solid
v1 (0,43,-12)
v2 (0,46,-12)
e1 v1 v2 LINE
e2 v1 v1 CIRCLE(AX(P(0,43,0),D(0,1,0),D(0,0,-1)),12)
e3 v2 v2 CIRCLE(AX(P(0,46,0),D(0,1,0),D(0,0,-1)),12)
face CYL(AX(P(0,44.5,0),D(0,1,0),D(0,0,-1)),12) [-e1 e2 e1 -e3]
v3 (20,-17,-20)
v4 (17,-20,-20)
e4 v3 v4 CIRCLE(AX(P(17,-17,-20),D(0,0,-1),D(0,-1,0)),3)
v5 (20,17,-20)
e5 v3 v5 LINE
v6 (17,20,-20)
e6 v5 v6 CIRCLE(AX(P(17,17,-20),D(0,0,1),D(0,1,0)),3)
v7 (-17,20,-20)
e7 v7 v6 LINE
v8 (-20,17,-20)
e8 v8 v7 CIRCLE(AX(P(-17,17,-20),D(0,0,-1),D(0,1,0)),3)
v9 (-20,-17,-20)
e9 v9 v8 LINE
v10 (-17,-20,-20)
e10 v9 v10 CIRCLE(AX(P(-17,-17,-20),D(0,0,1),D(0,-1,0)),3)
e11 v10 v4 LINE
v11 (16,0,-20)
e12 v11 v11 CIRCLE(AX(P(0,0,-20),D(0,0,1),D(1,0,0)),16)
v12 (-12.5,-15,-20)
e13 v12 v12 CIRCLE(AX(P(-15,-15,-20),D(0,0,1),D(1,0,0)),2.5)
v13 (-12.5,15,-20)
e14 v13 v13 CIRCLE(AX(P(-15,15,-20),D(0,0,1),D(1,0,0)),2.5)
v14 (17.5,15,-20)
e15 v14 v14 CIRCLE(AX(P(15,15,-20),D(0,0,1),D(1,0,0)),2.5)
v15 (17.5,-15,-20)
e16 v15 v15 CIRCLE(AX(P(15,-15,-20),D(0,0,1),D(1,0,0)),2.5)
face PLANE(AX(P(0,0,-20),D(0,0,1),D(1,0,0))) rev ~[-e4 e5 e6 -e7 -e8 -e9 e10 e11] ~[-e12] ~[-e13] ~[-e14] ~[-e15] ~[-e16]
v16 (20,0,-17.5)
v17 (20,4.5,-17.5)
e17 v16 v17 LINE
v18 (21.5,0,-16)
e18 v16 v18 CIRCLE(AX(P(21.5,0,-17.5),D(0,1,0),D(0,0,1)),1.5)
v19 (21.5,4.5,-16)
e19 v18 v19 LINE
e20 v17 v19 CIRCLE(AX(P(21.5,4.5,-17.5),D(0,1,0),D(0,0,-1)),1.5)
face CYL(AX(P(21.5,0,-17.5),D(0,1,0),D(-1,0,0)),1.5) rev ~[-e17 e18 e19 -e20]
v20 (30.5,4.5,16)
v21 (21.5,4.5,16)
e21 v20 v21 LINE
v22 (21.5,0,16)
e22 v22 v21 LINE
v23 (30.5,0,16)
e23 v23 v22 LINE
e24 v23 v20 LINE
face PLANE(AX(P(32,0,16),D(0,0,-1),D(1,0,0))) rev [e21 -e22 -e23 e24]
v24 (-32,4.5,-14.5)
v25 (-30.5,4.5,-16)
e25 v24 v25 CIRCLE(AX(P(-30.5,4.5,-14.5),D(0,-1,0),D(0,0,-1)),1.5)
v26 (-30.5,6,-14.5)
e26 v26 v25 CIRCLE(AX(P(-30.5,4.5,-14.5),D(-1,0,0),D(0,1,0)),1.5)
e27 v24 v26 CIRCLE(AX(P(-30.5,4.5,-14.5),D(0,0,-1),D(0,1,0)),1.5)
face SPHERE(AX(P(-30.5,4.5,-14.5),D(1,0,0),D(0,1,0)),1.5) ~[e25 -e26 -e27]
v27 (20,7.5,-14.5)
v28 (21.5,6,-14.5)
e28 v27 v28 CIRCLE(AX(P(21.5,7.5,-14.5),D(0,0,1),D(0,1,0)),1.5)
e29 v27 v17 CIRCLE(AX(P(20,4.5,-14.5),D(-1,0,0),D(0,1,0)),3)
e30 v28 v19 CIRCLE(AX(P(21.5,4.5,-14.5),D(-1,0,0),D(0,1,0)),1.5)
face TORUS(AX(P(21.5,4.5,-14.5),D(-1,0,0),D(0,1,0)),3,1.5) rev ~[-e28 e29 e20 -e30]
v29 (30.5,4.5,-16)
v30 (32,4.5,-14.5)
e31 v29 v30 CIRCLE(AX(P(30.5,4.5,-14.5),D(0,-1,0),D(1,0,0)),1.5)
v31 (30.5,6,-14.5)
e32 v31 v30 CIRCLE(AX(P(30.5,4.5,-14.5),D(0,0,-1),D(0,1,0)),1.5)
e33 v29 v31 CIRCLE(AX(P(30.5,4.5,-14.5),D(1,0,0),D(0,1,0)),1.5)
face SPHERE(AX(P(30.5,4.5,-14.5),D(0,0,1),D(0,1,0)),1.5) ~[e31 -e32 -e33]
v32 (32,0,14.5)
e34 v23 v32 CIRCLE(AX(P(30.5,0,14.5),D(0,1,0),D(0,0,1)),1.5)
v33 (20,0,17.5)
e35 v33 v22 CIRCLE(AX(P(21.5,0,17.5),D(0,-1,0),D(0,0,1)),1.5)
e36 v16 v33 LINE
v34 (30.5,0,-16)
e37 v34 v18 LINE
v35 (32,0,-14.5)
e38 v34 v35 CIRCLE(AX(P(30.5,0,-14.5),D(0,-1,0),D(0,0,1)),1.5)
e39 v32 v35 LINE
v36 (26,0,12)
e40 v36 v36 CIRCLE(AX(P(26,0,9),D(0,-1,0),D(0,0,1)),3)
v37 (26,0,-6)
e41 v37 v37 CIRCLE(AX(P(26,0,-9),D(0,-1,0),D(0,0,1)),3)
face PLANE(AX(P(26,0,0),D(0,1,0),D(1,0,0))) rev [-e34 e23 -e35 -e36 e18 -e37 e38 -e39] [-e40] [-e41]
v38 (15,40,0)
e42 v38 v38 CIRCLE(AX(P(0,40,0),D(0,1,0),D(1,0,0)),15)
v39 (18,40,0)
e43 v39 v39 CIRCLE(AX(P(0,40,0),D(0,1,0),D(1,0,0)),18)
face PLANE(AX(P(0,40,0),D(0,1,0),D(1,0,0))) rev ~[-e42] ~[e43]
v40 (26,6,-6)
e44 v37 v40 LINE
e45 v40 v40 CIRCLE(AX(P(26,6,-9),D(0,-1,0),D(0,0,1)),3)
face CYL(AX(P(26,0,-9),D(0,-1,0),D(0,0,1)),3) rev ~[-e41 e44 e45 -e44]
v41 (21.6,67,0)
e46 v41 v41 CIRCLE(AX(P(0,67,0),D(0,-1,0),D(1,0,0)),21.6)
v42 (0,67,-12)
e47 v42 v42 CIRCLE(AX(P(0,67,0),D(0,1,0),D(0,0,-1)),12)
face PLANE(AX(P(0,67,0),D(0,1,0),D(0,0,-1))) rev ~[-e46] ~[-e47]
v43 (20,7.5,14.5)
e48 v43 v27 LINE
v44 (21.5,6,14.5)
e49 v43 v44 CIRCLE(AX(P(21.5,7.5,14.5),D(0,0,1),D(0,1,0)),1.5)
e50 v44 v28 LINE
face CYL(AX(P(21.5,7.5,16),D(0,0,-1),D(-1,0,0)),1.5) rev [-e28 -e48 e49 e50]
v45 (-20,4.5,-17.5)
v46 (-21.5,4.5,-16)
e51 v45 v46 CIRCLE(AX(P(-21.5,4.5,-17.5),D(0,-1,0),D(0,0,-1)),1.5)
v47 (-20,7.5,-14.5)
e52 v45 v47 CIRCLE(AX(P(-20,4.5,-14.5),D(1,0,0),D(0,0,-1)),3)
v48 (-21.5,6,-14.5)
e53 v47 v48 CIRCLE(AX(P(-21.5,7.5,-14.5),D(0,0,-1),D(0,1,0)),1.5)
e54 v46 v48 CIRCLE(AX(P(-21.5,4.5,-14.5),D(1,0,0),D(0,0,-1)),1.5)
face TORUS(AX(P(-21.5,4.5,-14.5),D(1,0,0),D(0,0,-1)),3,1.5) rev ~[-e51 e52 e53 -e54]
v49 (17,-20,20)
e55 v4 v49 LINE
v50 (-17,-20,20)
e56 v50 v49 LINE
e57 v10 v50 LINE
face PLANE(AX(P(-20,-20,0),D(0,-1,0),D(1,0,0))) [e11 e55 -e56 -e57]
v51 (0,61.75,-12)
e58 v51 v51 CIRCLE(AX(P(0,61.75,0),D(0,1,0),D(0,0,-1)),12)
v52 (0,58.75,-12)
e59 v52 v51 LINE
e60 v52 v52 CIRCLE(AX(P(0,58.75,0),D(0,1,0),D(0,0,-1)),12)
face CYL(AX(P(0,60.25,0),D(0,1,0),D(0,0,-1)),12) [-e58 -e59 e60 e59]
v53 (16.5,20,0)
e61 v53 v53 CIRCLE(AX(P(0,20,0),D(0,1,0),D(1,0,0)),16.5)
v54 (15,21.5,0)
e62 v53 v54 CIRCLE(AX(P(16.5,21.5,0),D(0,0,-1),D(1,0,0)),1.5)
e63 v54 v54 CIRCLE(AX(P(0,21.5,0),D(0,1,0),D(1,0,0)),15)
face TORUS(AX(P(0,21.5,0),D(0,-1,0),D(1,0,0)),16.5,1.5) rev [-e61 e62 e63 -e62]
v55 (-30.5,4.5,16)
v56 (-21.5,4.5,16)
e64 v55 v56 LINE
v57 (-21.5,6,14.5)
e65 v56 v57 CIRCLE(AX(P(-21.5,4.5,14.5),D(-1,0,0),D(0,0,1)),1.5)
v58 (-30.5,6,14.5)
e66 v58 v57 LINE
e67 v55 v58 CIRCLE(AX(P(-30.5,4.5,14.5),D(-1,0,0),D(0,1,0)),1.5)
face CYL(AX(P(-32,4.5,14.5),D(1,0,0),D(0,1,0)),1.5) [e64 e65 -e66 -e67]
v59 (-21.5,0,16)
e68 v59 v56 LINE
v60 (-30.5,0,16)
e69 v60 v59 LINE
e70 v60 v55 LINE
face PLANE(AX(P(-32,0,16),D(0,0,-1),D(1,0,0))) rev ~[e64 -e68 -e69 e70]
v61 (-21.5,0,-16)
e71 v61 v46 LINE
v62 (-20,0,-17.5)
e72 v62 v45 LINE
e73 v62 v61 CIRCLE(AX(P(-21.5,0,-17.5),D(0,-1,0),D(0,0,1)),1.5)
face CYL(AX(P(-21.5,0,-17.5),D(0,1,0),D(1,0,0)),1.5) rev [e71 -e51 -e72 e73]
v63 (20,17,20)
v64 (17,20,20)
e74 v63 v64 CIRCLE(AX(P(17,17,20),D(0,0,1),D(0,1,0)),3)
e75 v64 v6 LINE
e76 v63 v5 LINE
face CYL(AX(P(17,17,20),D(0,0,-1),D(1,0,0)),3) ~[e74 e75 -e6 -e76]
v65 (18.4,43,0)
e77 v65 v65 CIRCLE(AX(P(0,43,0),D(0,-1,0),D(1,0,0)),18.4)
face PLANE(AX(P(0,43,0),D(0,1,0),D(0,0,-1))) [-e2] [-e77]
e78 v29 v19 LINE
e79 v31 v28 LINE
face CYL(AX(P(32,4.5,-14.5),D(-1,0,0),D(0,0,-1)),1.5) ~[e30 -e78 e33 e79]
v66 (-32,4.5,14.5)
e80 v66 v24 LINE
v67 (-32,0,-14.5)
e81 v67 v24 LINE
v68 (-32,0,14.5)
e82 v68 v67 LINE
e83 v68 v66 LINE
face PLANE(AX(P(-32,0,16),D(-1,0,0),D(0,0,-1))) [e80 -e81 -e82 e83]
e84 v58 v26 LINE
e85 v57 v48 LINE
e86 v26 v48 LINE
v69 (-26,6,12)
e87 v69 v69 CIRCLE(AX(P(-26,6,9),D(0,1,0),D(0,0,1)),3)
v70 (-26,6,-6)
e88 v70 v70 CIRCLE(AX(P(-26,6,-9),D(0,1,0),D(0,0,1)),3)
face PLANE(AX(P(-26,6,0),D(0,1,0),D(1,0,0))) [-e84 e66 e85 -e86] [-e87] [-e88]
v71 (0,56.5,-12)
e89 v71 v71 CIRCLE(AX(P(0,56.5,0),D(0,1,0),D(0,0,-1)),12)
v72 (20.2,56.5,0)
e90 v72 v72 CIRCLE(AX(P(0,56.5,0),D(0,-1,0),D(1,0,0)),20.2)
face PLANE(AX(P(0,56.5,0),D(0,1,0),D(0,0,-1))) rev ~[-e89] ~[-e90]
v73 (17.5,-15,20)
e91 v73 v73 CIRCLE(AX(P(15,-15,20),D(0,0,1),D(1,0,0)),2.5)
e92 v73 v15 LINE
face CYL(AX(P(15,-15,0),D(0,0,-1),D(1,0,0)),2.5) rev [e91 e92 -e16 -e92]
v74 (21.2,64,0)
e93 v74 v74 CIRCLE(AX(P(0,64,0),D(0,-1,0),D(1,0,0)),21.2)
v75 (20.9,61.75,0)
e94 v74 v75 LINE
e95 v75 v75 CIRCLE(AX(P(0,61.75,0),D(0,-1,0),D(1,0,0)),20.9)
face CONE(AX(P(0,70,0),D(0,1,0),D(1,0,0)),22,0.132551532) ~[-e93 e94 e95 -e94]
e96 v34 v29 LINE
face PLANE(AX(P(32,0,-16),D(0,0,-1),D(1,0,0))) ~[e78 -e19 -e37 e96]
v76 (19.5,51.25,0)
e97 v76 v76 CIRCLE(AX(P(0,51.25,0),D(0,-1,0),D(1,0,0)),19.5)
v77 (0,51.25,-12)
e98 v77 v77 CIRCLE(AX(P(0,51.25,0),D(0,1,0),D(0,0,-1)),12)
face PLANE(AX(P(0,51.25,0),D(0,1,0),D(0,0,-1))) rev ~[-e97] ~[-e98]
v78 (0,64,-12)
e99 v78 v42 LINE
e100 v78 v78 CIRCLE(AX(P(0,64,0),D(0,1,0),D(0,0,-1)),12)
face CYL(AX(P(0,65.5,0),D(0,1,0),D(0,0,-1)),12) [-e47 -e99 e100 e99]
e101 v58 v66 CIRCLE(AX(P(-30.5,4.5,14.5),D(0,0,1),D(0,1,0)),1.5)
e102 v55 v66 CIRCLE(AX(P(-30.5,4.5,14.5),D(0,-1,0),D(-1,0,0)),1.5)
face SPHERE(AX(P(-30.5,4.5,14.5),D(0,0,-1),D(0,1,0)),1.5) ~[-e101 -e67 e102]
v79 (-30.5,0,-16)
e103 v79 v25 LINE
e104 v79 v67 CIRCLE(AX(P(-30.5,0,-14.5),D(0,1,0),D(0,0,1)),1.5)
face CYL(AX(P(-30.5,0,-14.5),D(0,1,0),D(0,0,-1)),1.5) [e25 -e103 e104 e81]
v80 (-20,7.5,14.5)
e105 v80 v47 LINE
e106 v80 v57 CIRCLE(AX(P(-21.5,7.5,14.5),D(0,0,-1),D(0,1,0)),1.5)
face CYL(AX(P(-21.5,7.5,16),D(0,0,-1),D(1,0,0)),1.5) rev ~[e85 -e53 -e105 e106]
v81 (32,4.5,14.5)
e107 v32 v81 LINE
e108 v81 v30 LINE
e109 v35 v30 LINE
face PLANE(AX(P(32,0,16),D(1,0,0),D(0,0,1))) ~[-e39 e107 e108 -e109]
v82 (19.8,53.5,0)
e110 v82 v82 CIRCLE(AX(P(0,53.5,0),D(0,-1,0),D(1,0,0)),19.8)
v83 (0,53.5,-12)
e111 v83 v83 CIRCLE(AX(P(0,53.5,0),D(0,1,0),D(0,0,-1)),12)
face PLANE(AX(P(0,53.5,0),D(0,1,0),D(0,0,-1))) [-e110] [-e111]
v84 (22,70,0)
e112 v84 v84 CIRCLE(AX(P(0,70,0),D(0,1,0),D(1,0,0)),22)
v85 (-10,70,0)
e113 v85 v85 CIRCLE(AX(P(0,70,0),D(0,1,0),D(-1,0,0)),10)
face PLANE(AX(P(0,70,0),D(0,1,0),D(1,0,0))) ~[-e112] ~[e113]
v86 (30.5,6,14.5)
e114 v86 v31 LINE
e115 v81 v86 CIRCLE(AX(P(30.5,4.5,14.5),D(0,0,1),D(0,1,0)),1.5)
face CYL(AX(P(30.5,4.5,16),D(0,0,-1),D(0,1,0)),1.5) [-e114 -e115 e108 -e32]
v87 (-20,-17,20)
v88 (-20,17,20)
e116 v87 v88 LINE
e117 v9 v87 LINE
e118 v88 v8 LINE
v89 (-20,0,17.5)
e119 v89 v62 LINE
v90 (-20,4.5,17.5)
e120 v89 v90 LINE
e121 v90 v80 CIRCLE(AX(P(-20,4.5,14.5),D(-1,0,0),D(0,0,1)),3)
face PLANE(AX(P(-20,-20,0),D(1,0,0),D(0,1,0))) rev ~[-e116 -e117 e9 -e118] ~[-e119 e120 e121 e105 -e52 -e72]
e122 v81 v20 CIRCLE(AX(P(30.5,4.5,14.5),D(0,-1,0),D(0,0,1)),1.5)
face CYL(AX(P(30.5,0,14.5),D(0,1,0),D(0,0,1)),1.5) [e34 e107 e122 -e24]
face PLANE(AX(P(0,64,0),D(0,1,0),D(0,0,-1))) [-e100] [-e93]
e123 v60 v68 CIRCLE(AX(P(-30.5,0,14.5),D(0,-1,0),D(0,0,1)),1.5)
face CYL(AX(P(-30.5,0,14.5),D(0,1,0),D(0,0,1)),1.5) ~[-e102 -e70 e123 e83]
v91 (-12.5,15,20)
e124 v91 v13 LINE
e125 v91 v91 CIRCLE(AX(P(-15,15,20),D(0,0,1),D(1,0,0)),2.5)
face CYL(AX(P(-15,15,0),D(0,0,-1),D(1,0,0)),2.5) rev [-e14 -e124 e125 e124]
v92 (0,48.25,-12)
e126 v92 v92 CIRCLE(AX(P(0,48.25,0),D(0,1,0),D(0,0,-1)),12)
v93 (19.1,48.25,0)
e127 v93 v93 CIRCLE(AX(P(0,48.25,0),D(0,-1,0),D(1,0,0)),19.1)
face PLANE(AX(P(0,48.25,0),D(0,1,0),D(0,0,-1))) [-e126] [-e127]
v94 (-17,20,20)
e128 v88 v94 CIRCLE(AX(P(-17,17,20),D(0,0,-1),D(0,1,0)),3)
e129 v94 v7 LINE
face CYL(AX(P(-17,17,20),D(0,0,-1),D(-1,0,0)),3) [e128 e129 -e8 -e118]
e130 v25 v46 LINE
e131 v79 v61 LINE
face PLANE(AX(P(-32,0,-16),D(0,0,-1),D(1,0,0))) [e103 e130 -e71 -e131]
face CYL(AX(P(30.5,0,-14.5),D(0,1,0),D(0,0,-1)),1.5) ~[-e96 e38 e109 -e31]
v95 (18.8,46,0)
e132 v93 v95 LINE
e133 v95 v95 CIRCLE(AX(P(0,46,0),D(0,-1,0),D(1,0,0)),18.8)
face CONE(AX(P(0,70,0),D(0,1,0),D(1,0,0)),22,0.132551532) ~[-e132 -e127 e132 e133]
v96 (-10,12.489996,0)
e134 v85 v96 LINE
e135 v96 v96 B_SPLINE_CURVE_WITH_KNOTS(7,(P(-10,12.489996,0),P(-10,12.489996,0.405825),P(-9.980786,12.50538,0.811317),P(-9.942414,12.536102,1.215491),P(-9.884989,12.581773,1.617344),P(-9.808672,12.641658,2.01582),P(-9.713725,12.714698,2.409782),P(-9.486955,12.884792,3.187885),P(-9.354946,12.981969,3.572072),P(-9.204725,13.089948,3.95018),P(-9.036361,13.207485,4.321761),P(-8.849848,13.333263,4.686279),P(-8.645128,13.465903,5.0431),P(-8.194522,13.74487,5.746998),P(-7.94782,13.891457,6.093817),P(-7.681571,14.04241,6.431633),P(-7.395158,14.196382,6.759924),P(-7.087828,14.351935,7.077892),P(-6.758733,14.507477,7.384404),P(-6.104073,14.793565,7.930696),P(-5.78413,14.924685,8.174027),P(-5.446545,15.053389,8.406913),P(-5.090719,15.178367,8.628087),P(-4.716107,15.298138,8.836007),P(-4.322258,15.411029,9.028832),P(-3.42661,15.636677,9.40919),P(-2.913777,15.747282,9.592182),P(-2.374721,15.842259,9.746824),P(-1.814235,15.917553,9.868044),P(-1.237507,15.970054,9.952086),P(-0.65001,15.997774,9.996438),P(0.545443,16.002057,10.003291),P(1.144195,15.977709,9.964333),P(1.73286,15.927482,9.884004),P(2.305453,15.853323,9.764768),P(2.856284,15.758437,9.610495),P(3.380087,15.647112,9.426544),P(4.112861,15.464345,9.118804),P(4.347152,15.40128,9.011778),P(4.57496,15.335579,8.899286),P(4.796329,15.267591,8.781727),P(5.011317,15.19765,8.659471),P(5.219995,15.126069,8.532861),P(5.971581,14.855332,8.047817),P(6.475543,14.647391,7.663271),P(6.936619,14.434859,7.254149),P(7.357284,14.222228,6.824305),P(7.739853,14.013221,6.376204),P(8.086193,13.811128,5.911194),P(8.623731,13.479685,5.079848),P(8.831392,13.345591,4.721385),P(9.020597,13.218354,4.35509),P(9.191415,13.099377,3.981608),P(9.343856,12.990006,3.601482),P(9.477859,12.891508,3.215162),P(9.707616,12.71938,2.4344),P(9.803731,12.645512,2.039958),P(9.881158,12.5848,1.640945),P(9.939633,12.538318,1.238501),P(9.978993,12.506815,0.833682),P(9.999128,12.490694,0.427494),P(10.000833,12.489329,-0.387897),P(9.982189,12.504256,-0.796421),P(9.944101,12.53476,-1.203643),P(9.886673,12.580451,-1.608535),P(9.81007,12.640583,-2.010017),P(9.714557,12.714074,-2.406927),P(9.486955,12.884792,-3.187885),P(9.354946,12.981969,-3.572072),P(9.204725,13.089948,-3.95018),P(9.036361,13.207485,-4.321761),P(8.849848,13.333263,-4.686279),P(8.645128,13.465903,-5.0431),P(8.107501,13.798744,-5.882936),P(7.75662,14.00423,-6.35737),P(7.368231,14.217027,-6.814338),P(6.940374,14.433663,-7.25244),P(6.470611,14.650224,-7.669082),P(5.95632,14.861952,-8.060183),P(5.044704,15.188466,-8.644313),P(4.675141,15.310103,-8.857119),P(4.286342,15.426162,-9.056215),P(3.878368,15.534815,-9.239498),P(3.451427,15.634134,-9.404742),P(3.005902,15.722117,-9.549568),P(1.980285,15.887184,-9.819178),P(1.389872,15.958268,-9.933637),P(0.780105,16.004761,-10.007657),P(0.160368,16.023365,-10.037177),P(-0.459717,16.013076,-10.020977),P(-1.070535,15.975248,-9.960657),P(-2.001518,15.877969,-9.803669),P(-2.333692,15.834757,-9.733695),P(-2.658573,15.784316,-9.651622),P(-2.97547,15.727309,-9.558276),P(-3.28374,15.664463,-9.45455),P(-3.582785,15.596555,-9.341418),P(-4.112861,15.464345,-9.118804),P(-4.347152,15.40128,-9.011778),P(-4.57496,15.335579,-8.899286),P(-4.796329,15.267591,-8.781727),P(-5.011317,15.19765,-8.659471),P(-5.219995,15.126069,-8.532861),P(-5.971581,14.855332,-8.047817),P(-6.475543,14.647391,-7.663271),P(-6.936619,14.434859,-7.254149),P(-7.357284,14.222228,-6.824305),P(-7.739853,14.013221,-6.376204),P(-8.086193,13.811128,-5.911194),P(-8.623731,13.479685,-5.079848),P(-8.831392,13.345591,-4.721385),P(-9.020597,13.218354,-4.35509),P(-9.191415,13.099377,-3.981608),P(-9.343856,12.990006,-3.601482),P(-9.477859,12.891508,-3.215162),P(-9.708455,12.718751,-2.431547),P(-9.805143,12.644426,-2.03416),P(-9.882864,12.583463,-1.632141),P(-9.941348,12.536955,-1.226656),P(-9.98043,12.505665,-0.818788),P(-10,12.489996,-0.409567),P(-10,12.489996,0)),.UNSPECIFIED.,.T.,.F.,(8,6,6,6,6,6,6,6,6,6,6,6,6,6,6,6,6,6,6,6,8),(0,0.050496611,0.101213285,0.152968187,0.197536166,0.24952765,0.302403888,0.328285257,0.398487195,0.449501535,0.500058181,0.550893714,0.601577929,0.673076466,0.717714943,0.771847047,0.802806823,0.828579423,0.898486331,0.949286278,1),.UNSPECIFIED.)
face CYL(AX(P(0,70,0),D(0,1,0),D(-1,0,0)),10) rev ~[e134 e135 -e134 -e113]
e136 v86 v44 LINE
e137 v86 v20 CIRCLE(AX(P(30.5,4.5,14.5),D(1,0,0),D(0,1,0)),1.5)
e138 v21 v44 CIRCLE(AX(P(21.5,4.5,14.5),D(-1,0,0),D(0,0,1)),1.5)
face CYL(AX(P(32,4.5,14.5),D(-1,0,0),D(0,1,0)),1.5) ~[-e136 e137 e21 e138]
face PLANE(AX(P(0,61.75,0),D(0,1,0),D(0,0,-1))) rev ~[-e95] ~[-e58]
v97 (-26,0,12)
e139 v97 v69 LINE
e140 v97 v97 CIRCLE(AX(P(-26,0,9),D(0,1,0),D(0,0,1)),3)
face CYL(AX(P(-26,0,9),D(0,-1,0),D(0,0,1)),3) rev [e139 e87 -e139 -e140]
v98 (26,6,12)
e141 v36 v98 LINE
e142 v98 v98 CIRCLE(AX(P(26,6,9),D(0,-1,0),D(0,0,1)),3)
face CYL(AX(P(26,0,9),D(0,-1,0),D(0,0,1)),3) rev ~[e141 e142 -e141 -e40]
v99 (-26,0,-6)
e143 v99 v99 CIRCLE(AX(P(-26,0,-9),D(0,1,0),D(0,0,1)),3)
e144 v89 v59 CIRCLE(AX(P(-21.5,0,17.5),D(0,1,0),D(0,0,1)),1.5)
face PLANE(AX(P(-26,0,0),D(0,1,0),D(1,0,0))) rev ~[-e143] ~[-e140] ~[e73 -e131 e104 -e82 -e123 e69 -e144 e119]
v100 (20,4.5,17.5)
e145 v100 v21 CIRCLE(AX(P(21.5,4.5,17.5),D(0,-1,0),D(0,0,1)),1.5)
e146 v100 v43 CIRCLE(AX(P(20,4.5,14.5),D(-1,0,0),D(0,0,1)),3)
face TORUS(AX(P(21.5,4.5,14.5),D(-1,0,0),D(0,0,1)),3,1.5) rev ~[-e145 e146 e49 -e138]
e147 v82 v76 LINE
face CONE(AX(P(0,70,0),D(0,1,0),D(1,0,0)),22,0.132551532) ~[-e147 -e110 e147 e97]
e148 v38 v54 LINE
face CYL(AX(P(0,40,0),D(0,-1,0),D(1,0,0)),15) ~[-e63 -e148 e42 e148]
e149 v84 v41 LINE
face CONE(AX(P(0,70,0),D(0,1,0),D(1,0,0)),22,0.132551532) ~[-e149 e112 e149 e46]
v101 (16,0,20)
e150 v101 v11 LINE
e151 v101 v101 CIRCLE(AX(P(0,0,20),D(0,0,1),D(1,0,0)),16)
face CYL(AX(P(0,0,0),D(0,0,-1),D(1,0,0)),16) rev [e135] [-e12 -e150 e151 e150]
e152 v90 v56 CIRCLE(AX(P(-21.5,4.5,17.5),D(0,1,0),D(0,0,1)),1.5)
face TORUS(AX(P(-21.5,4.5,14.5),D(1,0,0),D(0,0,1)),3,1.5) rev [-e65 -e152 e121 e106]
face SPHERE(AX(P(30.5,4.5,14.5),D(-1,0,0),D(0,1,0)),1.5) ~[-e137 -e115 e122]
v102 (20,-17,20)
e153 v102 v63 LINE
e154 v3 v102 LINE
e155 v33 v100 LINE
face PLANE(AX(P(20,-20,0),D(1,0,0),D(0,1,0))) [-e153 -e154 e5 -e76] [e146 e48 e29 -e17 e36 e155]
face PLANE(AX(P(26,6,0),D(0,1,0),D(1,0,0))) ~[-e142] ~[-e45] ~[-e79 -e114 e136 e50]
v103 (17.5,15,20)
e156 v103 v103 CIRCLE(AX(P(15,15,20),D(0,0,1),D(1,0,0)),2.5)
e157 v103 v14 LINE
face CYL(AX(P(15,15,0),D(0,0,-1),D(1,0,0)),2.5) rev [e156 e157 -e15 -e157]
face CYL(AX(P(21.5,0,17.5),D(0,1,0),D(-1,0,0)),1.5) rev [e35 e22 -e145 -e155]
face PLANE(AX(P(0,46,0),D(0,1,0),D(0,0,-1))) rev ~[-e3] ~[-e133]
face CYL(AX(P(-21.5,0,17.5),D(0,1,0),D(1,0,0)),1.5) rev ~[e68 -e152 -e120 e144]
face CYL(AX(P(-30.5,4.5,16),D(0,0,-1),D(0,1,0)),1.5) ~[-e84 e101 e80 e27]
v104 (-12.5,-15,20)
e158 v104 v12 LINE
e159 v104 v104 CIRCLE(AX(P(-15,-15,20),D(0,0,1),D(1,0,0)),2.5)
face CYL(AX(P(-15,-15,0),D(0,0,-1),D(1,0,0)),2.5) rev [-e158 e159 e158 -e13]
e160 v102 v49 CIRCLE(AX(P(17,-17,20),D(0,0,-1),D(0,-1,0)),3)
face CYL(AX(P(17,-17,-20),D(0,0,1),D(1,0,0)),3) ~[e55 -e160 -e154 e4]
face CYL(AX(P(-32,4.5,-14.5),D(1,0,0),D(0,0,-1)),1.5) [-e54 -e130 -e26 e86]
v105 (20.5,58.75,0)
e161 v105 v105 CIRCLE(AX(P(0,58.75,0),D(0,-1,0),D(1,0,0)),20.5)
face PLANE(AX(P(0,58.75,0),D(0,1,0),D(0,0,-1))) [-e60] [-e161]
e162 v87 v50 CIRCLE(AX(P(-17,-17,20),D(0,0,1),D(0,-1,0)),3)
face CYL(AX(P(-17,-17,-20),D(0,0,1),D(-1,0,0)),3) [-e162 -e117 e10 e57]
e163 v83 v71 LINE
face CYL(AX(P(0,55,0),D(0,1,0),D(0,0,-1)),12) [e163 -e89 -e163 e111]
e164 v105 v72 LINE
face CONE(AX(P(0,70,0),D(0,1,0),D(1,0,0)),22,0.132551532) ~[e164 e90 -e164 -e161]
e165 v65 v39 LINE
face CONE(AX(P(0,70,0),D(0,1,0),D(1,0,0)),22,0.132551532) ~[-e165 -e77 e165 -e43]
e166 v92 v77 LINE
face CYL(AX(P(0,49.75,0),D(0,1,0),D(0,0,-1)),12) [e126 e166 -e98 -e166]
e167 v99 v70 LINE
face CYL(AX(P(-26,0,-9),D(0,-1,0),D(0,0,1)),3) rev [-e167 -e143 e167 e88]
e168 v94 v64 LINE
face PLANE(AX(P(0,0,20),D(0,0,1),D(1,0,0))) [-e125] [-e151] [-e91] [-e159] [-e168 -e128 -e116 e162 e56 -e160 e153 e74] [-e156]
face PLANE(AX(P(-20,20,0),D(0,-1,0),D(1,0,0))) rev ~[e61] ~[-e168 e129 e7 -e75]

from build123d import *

# Parameters (mm, degrees)
SKETCH1_W               = 40
SKETCH1_H               = 40
SKETCH1_R               = 2.5
SKETCH1_R_2             = 16
BOSS_EXTRUDE2_DEPTH     = 20
FILLET2_R               = 3
SKETCH3_W               = 18
SKETCH3_H               = 3
LPATTERN1_COUNT         = 5
LPATTERN1_PITCH         = 5.25
CUT_EXTRUDE2_REACH      = 97.226
CUT_EXTRUDE2_END_RADIUS = 16
SKETCH6_R               = 10
SKETCH7_W               = 12
SKETCH7_H               = 32
SKETCH7_R               = 3
BOSS_EXTRUDE4_DEPTH     = 6
FILLET3_R               = 1.5


with BuildPart() as part:
    # Sketch1 → Boss-Extrude2 (new, symmetric)
    with BuildSketch(Plane.XY):
        Rectangle(SKETCH1_W, SKETCH1_H)
        with Locations((-15, 15)):
            Circle(SKETCH1_R, mode=Mode.SUBTRACT)
        with Locations((15, 15)):
            Circle(SKETCH1_R, mode=Mode.SUBTRACT)
        with Locations((15, -15)):
            Circle(SKETCH1_R, mode=Mode.SUBTRACT)
        with Locations((-15, -15)):
            Circle(SKETCH1_R, mode=Mode.SUBTRACT)
        Circle(SKETCH1_R_2, mode=Mode.SUBTRACT)
    extrude(amount=BOSS_EXTRUDE2_DEPTH, both=True)

    # Fillet2
    fillet2_edges = [part.edges().sort_by_distance(p)[0] for p in [
        (20, -20, 0),
        (-20, -20, 0),
        (-20, 20, 0),
        (20, 20, 0),
    ]]
    fillet(fillet2_edges, radius=FILLET2_R)

    # Sketch2 → Revolve1 (revolve)
    with BuildSketch(Plane.XY, mode=Mode.PRIVATE) as revolve1_sk:
        Polygon((0, 20), (0, 70), (-22, 70), (-18, 40), (-15, 40), (-15, 20), align=None)
    revolve(revolve1_sk.sketch.rotate(Axis((0, 20, 0), (0, 1, 0)), 180), axis=Axis((0, 20, 0), (0, 1, 0)))

    # Sketch3 → Cut-Revolve1 (revolve, cut)
    with BuildSketch(Plane.XY, mode=Mode.PRIVATE) as cut_revolve1_sk:
        with Locations((-21, 44.5)):
            Rectangle(SKETCH3_W, SKETCH3_H)
    cut_revolve1 = revolve(cut_revolve1_sk.sketch.rotate(Axis((0, 34.204860636, 0), (0, 1, 0)), 270), axis=Axis((0, 34.204860636, 0), (0, 1, 0)), mode=Mode.SUBTRACT)

    # LPattern1: Cut-Revolve1 ×5
    with Locations(*[(0, i * LPATTERN1_PITCH, 0) for i in range(1, LPATTERN1_COUNT)]):
        add(cut_revolve1, mode=Mode.SUBTRACT)

    # Cut-Extrude2: up to this cylinder (the profile starts outside it)
    cut_extrude2_end = Plane(origin=(0, 0, 0), z_dir=(0, 0, -1)) * Cylinder(CUT_EXTRUDE2_END_RADIUS, 227.452, mode=Mode.PRIVATE)
    # Sketch6 → Cut-Extrude2 (cut, up to the surface)
    with BuildSketch(Plane(origin=(0, 70, 0), x_dir=(1, 0, 0), z_dir=(0, 1, 0)), mode=Mode.PRIVATE) as cut_extrude2_sk1:
        with Locations(Location((0, 0, 0), (0, 0, 180))):
            Circle(SKETCH6_R)
    cut_extrude2_tool1 = extrude(cut_extrude2_sk1.sketch, amount=-CUT_EXTRUDE2_REACH, mode=Mode.PRIVATE) - cut_extrude2_end
    add(cut_extrude2_tool1.solids().sort_by_distance((0, 70, 0))[0], mode=Mode.SUBTRACT)

    # Sketch7 → Boss-Extrude4 (add)
    with BuildSketch(Plane(origin=(0, 0, 0), x_dir=(1, 0, 0), z_dir=(0, 1, 0))):
        with Locations((-26, 0)):
            Rectangle(SKETCH7_W, SKETCH7_H)
        with Locations(Location((-26, 9, 0), (0, 0, 270))):
            Circle(SKETCH7_R, mode=Mode.SUBTRACT)
        with Locations(Location((-26, -9, 0), (0, 0, 270))):
            Circle(SKETCH7_R, mode=Mode.SUBTRACT)
    boss_extrude4 = extrude(amount=BOSS_EXTRUDE4_DEPTH)

    # Mirror1: Boss-Extrude4 across plane
    add(boss_extrude4.mirror(Plane(origin=(0, 0, 0), x_dir=(0, 0, 1), z_dir=(1, 0, 0))))

    # Fillet3
    fillet3_edges = [part.edges().sort_by_distance(p)[0] for p in [
        (-20, 6, 0),
        (-26, 6, -16),
        (-32, 6, 0),
        (-26, 6, 16),
        (-20, 3, 16),
        (-20, 3, -16),
        (-32, 3, -16),
        (-32, 3, 16),
        (20, 6, 0),
        (20, 3, -16),
        (26, 6, 16),
        (20, 3, 16),
        (32, 6, 0),
        (32, 3, 16),
        (26, 6, -16),
        (32, 3, -16),
        (-15, 20, 0),
    ]]
    fillet(fillet3_edges, radius=FILLET3_R)


solid = part.part
